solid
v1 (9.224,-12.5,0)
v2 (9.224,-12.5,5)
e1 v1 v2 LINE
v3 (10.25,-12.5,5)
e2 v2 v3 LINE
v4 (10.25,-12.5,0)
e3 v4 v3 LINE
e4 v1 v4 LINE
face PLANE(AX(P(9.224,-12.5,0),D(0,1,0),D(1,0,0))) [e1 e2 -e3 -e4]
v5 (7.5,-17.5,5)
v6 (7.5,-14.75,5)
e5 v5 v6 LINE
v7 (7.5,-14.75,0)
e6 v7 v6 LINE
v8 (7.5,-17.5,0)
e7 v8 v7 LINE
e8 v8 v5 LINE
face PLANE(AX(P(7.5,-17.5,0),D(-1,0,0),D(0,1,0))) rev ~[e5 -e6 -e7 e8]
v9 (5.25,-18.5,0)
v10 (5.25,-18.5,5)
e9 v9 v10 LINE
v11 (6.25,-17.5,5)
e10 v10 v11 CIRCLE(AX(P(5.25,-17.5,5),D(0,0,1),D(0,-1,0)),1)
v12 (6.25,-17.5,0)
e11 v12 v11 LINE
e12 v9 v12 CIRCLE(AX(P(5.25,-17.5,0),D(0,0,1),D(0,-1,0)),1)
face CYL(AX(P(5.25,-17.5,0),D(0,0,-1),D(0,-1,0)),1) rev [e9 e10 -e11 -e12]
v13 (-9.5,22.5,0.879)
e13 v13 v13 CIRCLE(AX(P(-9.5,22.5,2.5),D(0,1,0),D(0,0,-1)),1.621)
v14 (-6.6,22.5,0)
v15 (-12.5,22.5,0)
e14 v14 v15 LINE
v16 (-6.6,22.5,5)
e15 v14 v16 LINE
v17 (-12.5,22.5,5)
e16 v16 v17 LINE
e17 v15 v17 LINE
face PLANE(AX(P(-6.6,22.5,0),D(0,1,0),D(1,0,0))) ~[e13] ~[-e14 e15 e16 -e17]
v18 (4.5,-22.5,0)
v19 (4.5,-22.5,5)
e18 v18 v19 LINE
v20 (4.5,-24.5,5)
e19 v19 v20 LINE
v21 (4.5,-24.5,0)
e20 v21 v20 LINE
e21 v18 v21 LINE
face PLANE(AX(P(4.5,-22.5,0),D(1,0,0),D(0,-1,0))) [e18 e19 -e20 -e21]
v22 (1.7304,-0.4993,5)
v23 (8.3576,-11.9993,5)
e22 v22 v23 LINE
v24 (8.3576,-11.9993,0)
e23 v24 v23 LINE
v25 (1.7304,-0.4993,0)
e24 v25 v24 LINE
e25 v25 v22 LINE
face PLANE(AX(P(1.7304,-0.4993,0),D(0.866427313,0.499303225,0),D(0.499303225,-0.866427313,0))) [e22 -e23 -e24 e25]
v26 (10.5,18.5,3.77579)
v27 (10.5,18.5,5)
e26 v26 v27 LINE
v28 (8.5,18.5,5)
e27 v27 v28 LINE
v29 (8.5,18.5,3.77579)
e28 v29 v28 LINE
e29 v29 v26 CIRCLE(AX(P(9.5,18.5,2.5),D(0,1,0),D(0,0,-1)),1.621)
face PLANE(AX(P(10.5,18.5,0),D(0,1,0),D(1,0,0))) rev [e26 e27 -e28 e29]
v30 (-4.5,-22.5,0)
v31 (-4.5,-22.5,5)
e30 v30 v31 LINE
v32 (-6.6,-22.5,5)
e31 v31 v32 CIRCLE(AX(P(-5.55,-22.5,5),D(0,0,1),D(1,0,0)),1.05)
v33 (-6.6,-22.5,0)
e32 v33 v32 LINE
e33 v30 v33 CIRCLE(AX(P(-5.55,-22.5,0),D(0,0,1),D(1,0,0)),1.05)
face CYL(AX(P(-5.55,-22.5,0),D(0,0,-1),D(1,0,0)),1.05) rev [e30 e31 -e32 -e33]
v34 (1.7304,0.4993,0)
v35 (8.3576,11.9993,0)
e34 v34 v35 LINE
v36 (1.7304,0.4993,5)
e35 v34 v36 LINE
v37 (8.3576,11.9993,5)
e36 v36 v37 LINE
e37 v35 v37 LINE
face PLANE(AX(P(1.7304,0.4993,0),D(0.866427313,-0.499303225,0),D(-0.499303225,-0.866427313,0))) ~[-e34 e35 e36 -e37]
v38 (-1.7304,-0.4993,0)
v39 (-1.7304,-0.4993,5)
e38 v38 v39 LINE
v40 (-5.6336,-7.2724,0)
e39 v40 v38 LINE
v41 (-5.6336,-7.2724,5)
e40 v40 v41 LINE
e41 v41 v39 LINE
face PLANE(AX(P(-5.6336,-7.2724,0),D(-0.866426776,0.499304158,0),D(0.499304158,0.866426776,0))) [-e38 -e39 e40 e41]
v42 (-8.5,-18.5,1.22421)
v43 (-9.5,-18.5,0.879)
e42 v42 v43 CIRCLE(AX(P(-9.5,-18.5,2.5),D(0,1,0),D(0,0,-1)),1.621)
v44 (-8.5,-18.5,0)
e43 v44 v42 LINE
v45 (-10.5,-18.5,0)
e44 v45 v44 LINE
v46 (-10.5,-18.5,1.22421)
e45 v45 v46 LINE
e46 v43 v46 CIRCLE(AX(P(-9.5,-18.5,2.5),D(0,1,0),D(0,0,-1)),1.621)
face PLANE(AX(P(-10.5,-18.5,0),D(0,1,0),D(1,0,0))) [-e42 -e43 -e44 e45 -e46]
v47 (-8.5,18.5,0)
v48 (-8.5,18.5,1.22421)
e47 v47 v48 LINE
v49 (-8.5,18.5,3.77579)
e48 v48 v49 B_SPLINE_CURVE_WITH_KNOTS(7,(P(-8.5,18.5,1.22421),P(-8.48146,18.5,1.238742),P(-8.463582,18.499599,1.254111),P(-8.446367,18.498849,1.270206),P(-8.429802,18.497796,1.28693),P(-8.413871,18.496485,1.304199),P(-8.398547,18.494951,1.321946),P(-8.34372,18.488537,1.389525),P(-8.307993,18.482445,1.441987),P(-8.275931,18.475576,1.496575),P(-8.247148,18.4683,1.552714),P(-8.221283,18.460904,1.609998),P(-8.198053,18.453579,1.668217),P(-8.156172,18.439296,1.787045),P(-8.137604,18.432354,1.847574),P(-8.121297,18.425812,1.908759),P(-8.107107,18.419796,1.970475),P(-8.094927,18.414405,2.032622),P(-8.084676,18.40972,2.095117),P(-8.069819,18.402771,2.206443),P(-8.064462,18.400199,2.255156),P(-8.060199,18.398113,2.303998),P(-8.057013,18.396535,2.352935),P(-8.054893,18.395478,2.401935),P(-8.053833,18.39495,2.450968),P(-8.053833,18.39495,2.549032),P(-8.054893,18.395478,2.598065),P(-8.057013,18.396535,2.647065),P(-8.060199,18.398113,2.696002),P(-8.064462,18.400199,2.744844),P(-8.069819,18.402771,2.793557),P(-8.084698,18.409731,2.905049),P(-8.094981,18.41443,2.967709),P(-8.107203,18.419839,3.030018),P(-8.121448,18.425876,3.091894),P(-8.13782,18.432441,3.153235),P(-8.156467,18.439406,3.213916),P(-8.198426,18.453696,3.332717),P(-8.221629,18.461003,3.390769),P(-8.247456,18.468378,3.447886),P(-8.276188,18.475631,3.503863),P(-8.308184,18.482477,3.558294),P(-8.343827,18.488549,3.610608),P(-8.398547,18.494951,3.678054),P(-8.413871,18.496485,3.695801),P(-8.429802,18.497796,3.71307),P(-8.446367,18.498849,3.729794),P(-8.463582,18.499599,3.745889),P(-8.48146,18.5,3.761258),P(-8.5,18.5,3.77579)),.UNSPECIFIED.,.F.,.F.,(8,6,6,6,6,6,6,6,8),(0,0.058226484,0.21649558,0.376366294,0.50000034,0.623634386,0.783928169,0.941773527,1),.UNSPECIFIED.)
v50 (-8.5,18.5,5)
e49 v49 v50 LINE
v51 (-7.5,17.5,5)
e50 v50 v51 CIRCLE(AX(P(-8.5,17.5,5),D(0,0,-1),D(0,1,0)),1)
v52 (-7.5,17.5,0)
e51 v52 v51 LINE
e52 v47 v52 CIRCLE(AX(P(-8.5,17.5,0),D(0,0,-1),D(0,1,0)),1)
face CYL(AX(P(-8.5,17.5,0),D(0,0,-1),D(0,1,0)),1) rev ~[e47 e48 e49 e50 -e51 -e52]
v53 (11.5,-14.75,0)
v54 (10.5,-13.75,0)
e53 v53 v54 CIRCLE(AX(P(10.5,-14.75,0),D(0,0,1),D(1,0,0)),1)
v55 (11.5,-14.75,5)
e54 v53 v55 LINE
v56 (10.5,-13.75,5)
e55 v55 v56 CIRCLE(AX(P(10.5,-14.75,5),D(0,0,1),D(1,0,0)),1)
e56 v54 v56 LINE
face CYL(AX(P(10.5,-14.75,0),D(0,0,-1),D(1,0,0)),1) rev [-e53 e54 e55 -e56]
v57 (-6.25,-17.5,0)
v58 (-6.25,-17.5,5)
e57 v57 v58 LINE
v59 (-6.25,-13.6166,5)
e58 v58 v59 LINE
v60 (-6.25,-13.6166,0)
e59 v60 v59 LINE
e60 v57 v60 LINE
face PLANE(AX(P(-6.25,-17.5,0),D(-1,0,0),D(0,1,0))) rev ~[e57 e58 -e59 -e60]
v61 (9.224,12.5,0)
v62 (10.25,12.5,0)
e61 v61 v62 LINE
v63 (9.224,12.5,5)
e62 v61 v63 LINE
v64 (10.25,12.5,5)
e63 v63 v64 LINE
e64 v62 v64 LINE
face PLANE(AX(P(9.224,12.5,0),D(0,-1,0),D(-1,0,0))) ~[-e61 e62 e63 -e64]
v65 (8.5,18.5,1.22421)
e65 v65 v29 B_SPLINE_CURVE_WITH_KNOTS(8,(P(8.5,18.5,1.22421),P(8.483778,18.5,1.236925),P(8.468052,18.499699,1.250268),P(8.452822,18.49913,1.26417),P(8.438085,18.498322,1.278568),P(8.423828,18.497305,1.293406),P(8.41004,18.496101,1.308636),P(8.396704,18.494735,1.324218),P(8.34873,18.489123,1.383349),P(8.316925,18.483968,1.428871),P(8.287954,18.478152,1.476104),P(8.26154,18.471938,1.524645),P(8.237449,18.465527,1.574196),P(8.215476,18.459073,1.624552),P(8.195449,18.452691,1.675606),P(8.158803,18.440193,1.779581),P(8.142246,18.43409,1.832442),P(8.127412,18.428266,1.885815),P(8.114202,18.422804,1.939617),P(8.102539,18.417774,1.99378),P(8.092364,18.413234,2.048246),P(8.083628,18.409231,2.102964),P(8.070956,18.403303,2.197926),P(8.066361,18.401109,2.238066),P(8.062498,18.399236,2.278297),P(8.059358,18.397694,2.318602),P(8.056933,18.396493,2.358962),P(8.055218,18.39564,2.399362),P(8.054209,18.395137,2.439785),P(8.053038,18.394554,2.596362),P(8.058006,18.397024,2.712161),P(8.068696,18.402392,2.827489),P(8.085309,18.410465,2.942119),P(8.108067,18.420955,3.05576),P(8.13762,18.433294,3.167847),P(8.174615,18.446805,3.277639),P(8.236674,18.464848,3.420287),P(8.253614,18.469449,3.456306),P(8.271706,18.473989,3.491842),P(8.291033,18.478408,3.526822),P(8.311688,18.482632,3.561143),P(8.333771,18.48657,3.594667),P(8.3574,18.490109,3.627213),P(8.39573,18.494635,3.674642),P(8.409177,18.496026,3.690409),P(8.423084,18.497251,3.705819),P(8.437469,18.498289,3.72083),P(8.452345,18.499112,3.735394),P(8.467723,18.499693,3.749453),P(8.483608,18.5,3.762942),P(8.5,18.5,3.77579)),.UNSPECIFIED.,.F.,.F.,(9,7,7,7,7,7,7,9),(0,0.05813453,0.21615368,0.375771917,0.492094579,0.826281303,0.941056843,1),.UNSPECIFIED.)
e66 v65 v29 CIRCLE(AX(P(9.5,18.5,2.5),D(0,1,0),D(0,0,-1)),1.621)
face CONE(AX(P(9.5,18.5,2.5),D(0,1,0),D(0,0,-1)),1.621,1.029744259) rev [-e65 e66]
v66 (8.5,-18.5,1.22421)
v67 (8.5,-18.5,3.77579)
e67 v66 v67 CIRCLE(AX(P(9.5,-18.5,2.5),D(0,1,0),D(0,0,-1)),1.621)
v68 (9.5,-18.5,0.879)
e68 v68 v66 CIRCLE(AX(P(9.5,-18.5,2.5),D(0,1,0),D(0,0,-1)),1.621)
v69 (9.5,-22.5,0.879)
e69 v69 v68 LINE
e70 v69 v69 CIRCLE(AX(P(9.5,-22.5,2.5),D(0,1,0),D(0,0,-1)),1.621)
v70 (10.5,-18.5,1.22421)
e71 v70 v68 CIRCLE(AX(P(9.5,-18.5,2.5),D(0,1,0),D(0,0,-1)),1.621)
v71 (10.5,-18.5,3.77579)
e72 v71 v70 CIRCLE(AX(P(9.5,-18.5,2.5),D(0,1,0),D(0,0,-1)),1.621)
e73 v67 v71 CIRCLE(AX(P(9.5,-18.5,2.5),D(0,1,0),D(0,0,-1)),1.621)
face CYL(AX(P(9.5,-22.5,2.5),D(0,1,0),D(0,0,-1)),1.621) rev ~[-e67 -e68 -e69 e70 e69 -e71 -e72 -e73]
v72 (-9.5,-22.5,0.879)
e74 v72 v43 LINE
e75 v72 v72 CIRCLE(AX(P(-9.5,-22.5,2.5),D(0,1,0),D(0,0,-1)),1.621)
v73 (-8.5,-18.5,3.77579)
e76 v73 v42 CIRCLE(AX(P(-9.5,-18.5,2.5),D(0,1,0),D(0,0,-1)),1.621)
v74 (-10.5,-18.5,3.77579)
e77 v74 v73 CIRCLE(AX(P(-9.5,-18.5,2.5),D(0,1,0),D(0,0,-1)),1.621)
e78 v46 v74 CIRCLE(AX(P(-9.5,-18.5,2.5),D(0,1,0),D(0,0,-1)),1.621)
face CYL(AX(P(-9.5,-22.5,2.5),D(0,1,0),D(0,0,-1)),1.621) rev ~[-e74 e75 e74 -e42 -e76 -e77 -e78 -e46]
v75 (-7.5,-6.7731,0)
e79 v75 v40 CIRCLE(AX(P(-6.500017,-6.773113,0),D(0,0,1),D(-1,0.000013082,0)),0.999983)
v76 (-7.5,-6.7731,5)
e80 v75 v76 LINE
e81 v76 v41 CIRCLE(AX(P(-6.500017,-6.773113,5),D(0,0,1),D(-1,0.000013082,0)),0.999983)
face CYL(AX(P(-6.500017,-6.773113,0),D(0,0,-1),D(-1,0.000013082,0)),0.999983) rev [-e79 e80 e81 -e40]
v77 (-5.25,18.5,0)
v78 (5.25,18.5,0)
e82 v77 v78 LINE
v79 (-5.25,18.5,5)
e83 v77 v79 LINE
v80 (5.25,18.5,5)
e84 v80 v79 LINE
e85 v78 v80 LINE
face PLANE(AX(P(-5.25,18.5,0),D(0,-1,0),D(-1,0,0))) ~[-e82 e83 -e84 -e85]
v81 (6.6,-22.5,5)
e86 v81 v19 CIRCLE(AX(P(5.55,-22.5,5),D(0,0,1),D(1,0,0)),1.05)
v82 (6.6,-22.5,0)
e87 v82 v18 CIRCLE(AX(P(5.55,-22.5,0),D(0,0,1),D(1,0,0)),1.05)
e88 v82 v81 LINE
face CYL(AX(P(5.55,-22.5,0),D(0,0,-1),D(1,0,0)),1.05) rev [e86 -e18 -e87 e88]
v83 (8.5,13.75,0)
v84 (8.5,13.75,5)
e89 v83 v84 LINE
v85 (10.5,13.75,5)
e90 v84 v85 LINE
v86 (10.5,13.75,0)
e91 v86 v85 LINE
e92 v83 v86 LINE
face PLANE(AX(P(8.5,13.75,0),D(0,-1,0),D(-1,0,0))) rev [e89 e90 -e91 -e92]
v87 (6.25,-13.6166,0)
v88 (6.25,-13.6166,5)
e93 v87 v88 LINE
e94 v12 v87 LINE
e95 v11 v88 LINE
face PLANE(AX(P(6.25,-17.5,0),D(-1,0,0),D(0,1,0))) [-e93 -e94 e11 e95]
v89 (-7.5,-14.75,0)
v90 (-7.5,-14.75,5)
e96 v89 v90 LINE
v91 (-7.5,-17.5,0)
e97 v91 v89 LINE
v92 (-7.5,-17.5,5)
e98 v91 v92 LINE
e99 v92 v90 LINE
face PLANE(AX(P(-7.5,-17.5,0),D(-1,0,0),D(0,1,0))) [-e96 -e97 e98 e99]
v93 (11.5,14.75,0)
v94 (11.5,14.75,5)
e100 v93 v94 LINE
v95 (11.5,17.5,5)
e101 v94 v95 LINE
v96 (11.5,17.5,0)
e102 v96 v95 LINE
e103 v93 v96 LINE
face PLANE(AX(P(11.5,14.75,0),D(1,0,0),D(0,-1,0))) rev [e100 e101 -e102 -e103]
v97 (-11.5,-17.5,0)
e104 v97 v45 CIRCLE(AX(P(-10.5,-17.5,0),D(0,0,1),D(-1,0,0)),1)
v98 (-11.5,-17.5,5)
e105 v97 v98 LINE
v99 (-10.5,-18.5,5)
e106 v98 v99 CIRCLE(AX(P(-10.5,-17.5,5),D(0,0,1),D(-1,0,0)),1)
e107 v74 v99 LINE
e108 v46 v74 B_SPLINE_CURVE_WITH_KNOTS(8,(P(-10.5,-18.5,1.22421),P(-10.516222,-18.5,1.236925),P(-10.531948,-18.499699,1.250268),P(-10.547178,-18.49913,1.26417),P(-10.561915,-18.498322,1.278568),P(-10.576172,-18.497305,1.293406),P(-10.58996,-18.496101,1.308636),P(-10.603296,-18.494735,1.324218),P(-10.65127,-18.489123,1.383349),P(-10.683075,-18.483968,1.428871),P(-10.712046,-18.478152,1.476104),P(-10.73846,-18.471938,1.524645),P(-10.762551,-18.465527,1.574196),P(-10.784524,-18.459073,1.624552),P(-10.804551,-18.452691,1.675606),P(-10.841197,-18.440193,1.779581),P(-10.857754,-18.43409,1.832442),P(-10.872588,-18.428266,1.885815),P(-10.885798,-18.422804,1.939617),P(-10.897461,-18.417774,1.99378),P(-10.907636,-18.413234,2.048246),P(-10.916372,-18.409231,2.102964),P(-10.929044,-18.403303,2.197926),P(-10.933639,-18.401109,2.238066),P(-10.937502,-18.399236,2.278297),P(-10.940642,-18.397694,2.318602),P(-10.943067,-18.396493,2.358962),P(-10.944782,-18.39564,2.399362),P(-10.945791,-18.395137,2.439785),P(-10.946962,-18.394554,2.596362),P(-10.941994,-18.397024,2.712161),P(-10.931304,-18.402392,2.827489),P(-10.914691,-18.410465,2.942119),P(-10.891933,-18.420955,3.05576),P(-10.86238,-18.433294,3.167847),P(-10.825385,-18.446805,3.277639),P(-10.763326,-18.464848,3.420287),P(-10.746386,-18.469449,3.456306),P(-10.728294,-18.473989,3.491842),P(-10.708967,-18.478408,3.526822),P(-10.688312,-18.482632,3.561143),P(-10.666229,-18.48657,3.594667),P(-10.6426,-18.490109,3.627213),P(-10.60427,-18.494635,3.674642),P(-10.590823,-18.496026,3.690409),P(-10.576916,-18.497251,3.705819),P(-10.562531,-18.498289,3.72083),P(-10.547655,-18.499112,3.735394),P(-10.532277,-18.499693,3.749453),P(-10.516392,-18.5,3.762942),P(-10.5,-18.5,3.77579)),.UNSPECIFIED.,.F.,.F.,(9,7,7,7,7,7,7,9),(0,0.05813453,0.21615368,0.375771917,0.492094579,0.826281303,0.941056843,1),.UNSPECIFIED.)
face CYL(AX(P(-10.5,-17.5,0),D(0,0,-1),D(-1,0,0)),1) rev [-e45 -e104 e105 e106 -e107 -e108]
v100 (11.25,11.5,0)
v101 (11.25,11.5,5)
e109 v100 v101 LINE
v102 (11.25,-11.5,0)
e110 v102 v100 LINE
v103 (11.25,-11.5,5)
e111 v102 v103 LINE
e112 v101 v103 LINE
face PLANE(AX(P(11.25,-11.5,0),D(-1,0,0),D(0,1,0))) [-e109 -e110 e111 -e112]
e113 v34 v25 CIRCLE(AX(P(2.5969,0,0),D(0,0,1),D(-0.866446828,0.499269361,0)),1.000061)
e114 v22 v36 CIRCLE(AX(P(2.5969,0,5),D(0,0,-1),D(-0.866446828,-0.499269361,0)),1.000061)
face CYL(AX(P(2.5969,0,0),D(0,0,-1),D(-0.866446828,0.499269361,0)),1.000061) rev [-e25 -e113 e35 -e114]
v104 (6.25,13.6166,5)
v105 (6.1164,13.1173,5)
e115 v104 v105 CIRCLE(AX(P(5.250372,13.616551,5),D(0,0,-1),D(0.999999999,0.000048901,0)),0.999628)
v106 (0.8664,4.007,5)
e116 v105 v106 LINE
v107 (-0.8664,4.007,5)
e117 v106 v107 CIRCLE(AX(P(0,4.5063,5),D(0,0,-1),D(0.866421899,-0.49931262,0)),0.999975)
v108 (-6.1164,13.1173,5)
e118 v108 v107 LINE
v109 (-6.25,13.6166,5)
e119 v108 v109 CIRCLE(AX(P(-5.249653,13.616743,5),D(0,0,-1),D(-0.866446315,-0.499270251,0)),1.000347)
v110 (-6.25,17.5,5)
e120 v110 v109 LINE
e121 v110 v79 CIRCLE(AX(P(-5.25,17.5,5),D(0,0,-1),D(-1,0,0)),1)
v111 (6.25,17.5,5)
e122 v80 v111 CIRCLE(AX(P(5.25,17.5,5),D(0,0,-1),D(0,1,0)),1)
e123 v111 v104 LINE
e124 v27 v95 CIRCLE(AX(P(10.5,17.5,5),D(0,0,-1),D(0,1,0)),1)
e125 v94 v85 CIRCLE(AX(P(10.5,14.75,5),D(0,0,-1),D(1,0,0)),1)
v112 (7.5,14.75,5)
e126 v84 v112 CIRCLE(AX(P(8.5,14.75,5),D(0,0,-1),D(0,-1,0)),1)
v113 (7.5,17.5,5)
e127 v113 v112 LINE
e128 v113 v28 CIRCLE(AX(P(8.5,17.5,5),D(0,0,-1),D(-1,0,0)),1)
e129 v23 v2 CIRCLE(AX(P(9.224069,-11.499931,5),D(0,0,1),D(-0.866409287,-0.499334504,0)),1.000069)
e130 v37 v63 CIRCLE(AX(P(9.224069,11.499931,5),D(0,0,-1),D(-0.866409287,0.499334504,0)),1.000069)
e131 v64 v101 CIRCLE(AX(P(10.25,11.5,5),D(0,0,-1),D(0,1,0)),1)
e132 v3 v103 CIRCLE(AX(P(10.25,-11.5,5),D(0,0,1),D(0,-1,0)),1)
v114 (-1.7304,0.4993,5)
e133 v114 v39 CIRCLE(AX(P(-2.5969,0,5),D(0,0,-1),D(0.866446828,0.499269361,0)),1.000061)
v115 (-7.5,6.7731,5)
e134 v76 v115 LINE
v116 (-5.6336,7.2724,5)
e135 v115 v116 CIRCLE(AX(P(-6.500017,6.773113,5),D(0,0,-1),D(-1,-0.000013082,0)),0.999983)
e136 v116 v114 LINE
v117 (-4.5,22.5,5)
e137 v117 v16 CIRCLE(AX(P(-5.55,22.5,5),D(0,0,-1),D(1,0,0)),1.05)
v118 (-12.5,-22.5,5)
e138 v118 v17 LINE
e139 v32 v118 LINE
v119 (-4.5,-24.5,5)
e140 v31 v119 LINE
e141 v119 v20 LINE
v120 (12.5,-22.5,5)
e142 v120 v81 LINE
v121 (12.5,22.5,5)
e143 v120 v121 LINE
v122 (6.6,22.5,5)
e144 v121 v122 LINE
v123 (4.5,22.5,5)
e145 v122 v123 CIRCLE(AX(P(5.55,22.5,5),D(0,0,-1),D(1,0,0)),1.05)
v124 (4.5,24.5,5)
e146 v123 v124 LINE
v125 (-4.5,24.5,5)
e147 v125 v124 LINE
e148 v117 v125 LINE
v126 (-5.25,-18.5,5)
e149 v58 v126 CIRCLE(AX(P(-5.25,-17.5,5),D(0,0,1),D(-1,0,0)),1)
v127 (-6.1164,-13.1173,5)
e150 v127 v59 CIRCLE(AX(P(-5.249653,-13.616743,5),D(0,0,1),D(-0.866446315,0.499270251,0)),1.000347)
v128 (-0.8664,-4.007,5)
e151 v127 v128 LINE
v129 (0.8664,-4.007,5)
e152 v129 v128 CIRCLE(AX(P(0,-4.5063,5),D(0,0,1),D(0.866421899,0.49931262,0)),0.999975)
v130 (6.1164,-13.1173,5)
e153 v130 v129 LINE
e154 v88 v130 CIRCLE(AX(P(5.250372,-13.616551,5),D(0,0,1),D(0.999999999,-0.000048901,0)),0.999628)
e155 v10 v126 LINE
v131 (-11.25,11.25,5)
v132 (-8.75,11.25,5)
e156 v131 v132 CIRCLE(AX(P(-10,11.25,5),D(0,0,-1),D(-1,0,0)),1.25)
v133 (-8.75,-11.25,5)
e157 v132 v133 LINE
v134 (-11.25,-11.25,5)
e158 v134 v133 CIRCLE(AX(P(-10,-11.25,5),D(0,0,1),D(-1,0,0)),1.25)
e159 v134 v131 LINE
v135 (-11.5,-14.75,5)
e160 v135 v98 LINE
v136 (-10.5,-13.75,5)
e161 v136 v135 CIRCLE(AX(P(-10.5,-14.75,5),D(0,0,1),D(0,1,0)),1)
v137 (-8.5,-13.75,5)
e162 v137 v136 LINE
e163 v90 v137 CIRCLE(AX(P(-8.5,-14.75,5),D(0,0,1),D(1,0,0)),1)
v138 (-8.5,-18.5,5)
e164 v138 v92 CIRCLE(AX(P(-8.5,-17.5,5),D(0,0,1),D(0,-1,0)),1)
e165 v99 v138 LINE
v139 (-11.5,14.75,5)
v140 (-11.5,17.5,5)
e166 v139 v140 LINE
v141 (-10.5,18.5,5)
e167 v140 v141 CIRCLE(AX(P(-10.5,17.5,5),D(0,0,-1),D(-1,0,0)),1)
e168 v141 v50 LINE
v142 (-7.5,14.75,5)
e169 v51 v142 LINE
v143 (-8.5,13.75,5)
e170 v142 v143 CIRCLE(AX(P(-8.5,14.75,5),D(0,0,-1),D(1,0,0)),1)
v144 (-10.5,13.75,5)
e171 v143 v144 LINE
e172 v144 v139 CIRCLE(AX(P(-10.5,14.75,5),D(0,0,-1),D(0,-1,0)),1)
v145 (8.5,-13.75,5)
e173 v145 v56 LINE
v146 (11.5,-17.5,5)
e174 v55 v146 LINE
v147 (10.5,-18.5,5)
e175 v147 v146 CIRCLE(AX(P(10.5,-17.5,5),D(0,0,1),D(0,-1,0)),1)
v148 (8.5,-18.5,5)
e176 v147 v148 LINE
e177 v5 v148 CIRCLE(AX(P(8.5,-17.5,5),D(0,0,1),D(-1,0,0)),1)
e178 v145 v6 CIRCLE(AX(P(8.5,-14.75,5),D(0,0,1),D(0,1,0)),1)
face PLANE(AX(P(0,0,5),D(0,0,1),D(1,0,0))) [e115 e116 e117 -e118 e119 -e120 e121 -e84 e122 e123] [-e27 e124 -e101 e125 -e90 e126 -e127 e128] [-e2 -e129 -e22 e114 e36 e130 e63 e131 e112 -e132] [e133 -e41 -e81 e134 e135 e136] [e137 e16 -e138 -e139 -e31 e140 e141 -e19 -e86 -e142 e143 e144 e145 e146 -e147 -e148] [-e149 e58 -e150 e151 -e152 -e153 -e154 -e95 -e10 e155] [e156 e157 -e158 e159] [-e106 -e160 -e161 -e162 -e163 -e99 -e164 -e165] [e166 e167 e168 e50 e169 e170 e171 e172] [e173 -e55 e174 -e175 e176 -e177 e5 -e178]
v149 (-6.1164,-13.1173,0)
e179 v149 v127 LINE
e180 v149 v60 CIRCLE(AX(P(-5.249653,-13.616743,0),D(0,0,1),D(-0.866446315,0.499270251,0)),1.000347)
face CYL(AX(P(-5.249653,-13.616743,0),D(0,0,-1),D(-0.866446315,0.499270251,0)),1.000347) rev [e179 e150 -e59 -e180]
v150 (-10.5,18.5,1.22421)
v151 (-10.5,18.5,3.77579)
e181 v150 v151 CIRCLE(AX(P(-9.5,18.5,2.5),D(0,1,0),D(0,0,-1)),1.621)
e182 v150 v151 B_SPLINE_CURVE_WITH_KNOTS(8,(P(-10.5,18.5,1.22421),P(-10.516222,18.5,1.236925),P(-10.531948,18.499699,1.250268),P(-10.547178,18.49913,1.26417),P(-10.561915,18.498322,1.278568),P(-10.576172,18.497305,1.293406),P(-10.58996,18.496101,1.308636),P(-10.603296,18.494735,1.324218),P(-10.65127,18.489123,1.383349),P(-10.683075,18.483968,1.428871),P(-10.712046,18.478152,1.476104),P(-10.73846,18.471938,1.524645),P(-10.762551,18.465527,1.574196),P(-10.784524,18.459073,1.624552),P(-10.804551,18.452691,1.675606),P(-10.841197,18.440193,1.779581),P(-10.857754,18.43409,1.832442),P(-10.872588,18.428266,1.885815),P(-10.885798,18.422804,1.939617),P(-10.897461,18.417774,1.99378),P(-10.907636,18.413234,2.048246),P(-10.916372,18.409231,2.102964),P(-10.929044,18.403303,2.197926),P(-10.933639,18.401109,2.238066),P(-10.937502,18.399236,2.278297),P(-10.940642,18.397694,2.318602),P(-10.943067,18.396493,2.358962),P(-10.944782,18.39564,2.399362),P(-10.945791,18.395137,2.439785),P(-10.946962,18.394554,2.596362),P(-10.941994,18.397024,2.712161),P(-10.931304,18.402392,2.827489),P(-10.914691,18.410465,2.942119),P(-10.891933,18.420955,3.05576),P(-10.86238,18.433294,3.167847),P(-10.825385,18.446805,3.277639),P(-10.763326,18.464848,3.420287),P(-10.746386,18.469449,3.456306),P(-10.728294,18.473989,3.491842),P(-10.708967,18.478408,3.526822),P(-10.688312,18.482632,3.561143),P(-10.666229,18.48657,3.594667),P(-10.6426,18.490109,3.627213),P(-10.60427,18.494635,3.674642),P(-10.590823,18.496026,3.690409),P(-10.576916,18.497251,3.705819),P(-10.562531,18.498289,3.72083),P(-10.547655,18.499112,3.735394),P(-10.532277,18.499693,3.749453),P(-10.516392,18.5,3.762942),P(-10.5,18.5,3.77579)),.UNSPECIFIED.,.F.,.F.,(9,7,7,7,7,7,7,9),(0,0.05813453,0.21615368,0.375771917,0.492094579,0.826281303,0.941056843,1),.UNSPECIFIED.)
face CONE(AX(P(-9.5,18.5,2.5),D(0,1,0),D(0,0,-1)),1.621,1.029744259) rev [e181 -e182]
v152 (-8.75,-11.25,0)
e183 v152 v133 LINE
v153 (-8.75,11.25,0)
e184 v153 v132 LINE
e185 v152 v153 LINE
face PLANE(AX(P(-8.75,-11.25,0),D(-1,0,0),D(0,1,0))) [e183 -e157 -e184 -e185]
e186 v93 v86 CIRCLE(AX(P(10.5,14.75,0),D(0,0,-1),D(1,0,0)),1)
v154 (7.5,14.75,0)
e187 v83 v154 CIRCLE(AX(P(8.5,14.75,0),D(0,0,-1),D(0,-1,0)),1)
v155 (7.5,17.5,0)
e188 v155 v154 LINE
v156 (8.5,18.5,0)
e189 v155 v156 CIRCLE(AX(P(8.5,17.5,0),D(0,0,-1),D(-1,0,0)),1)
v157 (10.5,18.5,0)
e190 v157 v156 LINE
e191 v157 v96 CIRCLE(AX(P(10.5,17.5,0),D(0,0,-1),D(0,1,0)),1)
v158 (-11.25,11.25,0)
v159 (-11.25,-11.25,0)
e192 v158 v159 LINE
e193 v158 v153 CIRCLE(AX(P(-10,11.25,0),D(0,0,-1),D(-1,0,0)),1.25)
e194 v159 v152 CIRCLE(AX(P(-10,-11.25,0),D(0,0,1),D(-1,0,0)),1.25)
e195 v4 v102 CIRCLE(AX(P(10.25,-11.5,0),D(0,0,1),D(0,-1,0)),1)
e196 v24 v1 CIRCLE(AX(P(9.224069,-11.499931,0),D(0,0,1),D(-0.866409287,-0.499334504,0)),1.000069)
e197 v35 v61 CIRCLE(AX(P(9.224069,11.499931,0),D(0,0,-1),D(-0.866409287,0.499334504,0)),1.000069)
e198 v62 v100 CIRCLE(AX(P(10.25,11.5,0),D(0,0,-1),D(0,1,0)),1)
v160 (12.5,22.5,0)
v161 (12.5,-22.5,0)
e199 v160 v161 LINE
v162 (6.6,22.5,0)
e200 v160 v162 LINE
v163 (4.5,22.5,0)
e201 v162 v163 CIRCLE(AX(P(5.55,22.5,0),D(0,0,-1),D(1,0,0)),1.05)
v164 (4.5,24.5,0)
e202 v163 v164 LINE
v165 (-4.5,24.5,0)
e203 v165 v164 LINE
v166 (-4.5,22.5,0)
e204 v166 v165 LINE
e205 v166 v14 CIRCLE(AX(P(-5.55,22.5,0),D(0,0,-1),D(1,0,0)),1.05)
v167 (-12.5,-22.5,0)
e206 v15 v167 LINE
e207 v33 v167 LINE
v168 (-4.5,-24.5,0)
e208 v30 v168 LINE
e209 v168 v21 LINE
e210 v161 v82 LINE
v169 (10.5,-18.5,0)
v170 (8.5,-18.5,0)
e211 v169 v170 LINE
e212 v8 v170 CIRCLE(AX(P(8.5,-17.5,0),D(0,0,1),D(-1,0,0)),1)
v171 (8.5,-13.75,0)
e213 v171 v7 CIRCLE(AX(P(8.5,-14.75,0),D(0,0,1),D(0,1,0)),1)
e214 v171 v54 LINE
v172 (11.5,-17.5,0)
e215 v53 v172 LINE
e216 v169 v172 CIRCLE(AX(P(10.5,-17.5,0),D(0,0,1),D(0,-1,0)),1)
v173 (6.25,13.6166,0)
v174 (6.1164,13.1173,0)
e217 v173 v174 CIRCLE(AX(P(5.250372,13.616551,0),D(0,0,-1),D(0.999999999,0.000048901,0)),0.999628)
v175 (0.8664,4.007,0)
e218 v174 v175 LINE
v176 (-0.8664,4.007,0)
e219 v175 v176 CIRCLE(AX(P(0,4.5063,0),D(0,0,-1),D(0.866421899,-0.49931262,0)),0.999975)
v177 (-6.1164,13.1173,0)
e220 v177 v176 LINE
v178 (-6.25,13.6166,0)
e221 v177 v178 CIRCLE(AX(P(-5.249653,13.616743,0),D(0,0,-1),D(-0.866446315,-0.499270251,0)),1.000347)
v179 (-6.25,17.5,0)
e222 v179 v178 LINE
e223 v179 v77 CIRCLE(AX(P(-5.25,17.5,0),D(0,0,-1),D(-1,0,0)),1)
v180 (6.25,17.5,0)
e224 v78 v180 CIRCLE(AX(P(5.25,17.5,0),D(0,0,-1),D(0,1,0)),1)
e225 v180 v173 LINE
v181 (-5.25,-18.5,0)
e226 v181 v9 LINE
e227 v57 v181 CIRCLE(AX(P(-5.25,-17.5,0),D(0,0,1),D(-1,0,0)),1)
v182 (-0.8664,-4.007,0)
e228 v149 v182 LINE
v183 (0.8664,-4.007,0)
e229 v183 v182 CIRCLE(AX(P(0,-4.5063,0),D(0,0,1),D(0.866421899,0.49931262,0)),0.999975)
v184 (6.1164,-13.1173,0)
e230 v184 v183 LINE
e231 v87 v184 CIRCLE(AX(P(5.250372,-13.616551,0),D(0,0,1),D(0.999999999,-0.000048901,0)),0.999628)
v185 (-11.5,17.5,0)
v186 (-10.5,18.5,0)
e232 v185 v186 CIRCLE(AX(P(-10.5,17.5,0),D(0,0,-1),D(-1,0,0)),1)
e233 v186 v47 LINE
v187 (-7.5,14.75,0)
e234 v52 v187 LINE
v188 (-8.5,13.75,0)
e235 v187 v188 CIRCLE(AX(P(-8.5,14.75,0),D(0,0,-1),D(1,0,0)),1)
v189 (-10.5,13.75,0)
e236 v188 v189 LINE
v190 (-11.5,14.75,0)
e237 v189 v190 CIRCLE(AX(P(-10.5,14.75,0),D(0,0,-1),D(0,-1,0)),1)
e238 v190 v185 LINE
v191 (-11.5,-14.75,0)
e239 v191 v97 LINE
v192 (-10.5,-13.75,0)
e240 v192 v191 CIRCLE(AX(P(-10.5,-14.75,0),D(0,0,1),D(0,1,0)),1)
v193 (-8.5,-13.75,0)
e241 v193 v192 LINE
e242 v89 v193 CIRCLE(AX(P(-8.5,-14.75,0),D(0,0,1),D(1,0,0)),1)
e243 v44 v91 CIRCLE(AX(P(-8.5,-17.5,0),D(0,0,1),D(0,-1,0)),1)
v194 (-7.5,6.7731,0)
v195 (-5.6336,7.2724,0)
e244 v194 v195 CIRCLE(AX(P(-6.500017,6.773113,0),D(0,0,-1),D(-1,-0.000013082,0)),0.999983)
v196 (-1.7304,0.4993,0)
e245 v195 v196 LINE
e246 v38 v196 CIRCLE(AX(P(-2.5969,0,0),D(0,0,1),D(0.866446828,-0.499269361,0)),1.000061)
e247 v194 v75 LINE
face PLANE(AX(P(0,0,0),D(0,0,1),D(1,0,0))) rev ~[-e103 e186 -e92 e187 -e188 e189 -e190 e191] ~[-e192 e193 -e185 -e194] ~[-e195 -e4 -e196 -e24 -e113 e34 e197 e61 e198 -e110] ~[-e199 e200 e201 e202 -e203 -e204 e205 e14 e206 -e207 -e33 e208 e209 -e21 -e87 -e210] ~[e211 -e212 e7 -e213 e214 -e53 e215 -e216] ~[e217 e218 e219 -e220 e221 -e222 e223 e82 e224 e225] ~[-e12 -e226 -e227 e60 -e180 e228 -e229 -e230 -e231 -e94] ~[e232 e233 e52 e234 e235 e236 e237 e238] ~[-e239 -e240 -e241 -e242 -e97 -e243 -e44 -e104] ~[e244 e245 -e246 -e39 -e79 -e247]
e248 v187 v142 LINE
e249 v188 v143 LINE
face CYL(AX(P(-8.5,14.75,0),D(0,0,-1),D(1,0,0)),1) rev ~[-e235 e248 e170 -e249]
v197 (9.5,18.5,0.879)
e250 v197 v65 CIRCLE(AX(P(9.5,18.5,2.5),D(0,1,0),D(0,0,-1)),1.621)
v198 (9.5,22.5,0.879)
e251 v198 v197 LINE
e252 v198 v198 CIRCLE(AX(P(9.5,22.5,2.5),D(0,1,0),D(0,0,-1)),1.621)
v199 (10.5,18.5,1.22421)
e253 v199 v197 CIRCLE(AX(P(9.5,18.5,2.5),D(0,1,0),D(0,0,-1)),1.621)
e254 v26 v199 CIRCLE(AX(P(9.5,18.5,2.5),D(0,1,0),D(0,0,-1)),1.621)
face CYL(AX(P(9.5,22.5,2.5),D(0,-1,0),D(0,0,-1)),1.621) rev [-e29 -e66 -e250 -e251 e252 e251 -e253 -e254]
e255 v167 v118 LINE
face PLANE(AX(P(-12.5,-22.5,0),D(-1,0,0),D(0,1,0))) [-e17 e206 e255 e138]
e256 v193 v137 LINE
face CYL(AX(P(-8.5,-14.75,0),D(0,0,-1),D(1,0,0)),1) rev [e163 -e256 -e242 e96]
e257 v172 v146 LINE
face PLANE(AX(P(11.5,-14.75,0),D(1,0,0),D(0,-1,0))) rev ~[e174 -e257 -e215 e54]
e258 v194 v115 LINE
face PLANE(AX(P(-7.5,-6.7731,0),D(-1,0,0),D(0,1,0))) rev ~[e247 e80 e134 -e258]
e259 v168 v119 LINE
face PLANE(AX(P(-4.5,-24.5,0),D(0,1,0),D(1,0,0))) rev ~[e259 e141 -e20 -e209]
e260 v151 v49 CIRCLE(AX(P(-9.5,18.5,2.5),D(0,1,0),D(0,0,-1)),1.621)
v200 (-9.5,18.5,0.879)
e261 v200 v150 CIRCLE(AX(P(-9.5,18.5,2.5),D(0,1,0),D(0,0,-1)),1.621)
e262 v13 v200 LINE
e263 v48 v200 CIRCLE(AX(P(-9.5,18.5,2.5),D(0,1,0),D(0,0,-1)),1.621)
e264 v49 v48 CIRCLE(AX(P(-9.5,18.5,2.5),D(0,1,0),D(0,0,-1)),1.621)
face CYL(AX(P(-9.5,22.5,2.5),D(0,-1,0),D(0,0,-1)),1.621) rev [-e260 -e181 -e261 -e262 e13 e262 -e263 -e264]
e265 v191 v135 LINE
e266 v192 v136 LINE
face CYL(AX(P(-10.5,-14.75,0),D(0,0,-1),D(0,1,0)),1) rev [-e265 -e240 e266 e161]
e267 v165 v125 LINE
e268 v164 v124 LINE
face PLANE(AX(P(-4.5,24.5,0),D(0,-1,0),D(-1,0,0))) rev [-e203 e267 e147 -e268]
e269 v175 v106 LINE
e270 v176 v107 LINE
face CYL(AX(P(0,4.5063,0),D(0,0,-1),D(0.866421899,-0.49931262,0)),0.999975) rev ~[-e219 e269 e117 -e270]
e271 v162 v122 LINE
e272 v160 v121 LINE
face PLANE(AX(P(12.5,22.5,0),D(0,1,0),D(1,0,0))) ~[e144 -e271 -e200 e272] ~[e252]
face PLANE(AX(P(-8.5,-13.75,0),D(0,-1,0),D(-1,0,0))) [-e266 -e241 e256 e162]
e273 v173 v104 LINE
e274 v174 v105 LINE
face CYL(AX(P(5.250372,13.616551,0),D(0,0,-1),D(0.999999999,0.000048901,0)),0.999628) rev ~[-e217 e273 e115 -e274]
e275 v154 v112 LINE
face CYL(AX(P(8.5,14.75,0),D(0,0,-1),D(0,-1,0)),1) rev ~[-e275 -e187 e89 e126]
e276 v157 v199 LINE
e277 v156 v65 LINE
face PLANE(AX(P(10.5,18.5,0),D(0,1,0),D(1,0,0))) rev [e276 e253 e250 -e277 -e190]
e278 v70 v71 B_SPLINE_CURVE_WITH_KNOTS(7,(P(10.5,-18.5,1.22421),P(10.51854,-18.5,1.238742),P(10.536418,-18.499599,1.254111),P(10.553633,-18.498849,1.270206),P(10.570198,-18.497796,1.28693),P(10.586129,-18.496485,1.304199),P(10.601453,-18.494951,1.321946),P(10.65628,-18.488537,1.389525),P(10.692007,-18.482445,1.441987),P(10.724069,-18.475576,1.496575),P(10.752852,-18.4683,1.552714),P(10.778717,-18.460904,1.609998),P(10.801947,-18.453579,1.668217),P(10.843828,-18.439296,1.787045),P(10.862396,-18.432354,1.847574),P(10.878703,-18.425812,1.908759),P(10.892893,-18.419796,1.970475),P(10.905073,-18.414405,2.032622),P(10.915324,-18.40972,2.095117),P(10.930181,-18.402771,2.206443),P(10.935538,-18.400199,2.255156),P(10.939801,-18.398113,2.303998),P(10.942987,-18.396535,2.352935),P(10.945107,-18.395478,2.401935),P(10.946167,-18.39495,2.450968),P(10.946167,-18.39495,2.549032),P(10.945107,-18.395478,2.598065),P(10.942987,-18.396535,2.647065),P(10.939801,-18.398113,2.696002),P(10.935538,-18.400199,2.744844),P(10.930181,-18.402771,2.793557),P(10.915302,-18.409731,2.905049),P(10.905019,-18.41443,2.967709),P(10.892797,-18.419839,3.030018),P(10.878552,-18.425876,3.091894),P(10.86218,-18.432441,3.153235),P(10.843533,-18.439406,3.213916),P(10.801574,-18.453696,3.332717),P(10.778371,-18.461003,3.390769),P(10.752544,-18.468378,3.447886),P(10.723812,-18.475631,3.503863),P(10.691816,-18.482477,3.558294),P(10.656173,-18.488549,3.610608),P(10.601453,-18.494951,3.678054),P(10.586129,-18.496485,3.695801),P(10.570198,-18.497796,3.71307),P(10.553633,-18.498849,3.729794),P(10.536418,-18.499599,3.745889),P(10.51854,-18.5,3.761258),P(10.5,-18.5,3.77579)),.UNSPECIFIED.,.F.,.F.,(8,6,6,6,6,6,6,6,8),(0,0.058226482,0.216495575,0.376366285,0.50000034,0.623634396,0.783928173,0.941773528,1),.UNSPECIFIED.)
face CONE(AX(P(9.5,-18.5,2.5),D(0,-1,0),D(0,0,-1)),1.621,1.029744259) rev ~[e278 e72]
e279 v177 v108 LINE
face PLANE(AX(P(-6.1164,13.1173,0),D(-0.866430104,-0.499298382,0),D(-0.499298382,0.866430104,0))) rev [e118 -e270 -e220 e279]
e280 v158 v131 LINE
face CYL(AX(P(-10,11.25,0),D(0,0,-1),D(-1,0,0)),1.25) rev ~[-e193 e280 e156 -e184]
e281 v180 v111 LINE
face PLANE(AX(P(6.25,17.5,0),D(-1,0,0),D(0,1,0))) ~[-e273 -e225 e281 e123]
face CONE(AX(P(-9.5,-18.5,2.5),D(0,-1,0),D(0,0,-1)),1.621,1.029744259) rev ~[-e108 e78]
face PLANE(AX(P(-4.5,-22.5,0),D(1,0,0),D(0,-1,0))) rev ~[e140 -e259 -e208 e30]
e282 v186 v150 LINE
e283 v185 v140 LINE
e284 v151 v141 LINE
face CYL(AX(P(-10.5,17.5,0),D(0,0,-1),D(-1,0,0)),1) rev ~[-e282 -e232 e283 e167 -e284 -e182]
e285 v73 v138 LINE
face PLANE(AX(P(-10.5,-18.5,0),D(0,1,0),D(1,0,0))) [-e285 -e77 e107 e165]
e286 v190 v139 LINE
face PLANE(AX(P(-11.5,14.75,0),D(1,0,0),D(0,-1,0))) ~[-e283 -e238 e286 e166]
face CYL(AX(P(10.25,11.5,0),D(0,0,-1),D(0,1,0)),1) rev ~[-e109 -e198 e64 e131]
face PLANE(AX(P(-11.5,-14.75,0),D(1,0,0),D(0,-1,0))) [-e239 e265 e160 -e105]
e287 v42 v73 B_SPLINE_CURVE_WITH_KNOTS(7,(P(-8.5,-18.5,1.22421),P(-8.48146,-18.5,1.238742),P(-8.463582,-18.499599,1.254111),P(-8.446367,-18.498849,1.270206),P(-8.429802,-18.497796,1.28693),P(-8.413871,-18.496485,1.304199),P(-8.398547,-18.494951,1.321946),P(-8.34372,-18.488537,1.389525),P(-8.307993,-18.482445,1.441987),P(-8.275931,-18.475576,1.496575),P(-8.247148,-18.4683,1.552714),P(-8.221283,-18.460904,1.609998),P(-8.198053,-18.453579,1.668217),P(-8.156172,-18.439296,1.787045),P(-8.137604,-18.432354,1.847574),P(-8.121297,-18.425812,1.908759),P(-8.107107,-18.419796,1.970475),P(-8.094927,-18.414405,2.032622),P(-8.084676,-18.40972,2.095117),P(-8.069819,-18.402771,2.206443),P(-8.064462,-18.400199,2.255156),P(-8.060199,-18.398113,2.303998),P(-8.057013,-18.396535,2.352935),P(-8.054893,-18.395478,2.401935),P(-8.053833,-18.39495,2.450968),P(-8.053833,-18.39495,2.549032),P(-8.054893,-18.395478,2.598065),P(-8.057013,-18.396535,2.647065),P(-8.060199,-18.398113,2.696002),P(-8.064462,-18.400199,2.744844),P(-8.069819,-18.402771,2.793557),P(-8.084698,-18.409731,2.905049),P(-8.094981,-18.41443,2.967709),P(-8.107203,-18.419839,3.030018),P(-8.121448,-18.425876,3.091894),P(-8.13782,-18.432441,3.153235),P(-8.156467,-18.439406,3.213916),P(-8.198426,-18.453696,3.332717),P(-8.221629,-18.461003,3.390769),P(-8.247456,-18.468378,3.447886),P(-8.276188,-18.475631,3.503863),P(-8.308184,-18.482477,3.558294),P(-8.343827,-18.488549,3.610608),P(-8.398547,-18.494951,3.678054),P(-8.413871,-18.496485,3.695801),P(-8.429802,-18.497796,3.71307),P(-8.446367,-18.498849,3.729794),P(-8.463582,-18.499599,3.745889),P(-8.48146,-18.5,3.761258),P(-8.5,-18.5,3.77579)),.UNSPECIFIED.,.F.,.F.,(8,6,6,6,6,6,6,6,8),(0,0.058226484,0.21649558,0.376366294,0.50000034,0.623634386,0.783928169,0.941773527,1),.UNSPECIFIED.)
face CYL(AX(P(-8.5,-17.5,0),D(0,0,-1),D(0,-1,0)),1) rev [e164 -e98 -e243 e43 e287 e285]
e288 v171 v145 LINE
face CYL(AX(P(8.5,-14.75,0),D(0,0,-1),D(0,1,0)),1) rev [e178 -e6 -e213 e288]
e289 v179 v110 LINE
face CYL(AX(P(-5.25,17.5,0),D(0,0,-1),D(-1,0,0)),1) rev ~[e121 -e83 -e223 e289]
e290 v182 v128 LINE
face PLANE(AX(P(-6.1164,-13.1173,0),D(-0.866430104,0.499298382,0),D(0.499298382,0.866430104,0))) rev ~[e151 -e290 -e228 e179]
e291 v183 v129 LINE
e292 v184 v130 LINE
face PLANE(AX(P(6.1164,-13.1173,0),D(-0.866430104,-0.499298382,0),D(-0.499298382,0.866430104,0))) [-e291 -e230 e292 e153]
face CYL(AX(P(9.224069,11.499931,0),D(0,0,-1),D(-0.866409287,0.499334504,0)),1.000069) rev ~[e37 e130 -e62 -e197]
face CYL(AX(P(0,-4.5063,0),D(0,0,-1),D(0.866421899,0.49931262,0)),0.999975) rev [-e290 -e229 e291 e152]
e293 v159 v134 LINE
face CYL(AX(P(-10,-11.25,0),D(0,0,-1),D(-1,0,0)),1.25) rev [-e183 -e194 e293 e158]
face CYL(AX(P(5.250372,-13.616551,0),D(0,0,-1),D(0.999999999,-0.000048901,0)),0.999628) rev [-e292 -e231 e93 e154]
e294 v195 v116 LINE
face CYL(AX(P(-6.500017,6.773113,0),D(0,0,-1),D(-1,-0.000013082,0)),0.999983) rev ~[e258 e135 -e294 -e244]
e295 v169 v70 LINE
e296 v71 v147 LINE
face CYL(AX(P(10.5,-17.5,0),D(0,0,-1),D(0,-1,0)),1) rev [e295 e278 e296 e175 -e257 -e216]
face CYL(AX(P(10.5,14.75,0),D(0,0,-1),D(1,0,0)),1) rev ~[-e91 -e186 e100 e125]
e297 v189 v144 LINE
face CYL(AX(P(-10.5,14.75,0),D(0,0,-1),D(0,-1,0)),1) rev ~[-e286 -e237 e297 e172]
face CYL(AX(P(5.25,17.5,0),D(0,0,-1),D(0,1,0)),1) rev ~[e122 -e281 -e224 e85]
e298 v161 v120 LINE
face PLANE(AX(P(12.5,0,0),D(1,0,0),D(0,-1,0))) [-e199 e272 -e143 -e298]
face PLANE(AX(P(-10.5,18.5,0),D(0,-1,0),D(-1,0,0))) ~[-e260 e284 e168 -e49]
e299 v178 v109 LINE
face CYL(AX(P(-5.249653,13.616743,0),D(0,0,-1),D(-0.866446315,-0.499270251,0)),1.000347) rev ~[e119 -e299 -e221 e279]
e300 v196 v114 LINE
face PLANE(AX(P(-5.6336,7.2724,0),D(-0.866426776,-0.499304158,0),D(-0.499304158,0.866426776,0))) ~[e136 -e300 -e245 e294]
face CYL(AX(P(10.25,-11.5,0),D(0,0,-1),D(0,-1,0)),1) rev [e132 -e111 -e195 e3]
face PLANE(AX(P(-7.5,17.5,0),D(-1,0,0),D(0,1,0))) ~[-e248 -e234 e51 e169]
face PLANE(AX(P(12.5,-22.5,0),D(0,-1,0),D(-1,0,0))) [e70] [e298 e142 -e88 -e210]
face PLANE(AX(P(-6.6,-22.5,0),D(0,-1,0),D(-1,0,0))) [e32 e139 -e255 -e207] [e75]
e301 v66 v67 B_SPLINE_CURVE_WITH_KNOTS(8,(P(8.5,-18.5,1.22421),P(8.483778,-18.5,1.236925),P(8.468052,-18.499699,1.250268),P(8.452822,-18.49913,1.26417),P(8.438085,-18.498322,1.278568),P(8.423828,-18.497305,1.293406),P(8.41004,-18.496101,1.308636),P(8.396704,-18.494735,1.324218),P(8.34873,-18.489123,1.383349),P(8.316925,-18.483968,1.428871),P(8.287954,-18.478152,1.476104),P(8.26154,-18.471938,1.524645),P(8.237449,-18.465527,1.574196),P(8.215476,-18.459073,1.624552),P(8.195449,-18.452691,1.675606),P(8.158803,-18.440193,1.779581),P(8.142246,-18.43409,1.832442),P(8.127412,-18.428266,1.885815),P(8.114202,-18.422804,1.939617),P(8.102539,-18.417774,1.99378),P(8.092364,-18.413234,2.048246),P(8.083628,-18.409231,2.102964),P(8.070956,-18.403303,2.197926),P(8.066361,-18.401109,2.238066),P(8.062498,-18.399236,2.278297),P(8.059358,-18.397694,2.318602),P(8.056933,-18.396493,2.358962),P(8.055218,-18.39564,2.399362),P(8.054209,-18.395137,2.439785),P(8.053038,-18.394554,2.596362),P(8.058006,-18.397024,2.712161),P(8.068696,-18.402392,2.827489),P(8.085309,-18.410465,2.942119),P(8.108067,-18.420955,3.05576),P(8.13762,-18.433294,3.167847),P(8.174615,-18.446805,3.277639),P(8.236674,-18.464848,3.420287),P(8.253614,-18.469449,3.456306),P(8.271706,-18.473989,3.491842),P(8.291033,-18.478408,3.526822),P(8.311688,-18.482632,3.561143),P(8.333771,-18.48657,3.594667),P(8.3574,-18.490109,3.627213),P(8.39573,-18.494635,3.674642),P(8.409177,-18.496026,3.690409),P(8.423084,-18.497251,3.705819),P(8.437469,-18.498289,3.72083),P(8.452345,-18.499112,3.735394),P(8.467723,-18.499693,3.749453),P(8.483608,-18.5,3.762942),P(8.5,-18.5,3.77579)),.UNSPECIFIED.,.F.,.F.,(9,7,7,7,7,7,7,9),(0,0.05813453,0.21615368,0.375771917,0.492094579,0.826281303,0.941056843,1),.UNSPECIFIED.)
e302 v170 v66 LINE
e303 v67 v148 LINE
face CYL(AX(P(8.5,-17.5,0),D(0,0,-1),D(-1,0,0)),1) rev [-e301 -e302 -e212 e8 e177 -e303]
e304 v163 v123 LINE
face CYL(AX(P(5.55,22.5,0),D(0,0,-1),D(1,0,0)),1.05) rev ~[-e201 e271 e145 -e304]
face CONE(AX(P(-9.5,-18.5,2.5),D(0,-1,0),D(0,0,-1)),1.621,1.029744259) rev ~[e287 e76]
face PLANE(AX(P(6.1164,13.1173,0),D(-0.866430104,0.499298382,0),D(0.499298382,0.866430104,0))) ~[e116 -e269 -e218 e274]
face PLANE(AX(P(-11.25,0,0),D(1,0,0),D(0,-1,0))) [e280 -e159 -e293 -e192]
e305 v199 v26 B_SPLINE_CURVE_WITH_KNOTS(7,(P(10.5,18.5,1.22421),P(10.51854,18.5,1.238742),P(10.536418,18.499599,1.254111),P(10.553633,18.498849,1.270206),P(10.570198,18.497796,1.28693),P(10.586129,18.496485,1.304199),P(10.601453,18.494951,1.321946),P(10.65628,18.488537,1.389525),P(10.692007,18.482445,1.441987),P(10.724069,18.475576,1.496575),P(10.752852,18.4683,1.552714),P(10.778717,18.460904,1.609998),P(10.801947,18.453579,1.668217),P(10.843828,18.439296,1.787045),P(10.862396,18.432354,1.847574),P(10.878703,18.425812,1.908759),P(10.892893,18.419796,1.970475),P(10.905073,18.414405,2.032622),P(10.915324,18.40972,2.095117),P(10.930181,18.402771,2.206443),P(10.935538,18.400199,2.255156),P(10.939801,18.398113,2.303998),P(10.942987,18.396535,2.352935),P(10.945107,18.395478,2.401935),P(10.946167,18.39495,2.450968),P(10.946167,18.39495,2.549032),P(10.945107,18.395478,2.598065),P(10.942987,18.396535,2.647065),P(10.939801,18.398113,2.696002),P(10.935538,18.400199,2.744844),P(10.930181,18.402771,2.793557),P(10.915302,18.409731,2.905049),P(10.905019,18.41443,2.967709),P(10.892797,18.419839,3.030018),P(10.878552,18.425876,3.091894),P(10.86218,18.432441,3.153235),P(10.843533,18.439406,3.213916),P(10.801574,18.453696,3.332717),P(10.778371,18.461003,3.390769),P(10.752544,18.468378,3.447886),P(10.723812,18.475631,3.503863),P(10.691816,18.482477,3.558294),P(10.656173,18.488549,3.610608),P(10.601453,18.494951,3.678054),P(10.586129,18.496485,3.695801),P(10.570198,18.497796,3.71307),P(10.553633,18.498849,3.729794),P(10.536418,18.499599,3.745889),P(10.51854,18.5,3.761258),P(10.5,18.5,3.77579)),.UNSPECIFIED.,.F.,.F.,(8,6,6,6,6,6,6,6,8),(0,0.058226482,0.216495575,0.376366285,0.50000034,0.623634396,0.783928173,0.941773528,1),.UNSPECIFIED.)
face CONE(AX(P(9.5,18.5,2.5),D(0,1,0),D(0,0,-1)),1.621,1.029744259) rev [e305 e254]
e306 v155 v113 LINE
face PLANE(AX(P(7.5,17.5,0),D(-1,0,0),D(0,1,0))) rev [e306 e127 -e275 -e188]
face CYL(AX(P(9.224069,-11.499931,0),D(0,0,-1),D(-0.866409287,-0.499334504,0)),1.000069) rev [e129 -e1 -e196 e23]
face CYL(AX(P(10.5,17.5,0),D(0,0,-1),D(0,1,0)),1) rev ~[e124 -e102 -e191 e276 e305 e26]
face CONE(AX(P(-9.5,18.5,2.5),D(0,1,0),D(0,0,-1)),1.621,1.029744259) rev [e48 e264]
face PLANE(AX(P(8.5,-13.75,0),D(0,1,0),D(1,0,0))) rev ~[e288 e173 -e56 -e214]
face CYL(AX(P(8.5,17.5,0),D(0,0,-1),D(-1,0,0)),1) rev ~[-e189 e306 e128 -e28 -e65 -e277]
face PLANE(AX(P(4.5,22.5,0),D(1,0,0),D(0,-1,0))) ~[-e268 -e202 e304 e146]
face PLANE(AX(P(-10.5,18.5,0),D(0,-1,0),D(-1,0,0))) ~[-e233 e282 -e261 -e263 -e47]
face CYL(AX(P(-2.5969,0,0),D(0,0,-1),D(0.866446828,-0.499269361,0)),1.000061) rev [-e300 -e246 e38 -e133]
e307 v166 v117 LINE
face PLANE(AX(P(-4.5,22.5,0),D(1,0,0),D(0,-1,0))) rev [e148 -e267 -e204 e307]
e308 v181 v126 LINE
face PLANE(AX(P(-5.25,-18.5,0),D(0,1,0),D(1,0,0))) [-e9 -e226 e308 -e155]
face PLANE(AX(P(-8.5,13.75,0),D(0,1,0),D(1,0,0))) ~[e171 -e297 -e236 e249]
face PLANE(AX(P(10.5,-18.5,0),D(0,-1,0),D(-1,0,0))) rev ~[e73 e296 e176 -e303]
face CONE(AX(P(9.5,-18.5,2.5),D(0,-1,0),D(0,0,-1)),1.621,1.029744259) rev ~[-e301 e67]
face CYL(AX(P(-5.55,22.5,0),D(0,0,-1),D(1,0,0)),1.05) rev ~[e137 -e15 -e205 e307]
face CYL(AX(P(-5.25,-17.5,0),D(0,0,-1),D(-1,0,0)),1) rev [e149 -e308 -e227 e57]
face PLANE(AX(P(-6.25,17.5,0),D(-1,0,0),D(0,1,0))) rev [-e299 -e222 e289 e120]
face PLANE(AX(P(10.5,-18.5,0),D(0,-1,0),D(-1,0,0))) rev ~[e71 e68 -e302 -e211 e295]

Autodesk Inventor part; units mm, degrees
ref_plane "YZ Plane" through (0, 0, 0) normal (1, 0, 0) x (0, 1, 0)
ref_plane "XZ Plane" through (0, 0, 0) normal (0, 1, 0) x (-1, 0, 0)
ref_plane "XY Plane" through (0, 0, 0) normal (0, 0, 1) x (1, 0, 0)
sketch "スケッチ1" plane through (0, 0, 0) normal (0, 0, 1) x (1, 0, 0)
  line L0 (-12.5, -22.5) -> (-12.5, 22.5)
  line L1 (-12.5, 22.5) -> (12.5, 22.5)
  line L2 (12.5, 22.5) -> (12.5, -22.5)
  line L3 (12.5, -22.5) -> (-12.5, -22.5)
  line L4 (-12.5, -22.5) -> (12.5, 22.5) construction
  line L5 (-12.5, 22.5) -> (12.5, -22.5) construction
  line L6 (0, -22.5) -> (0, 22.5) construction
  line L7 (-12.5, 0) -> (12.5, 0) construction
  line L8 (-4.5, -22.5) -> (-4.5, -24.5)
  line L9 (-4.5, -24.5) -> (4.5, -24.5)
  arc A0 (-4.5, -22.5) -> (-6.6, -22.5) centre (-5.55, -22.5) ccw
  line L10 (-9.5, -22.5) -> (-9.5, -18.5) construction
  line L11 (-11.5, -22.5) -> (-11.5, -18.5) construction
  line L12 (-11.5, -18.5) -> (-7.5, -18.5) construction
  line L13 (-7.5, -18.5) -> (-7.5, -22.5) construction
  line L14 (4.5, -22.5) -> (4.5, -24.5)
  arc A1 (6.6, -22.5) -> (4.5, -22.5) centre (5.55, -22.5) ccw
  line L15 (9.5, -22.5) -> (9.5, -18.5) construction
  line L16 (11.5, -22.5) -> (11.5, -18.5) construction
  line L17 (11.5, -18.5) -> (7.5, -18.5) construction
  line L18 (7.5, -18.5) -> (7.5, -22.5) construction
  line L19 (-11.25, -11.25) -> (-8.75, -11.25) construction
  line L20 (-8.75, -11.25) -> (-8.75, 11.25)
  line L21 (-8.75, 11.25) -> (-11.25, 11.25) construction
  line L22 (-11.25, 11.25) -> (-11.25, -11.25)
  line L23 (-11.25, -11.25) -> (-8.75, 11.25) construction
  line L24 (-8.75, -11.25) -> (-11.25, 11.25) construction
  arc A2 (-11.25, -11.25) -> (-8.75, -11.25) centre (-10, -11.25) ccw
  arc A3 (-8.75, 11.25) -> (-11.25, 11.25) centre (-10, 11.25) ccw
  line L25 (-10, -12.5) -> (-10, 12.5) construction
  line L26 (-8.5, -13.75) -> (-10.5, -13.75)
  line L27 (-11.5, -14.75) -> (-11.5, -17.5)
  line L28 (-10.5, -18.5) -> (-8.5, -18.5)
  line L29 (-7.5, -17.5) -> (-7.5, -14.75)
  line L30 (-7.5, -13.75) -> (-11.5, -18.5) construction
  line L31 (-11.5, -13.75) -> (-7.5, -18.5) construction
  arc A4 (-11.5, -17.5) -> (-10.5, -18.5) centre (-10.5, -17.5) ccw
  arc A5 (-8.5, -18.5) -> (-7.5, -17.5) centre (-8.5, -17.5) ccw
  arc A6 (-7.5, -14.75) -> (-8.5, -13.75) centre (-8.5, -14.75) ccw
  arc A7 (-10.5, -13.75) -> (-11.5, -14.75) centre (-10.5, -14.75) ccw
  line L32 (-6.25, -17.5) -> (-6.25, -13.6166)
  line L33 (-6.1164, -13.1173) -> (-0.8664, -4.007)
  line L34 (-5.25, -18.5) -> (0, -18.5)
  line L35 (-7.5, -6.7731) -> (-7.5, 0)
  line L36 (-5.6336, -7.2724) -> (-1.7304, -0.4993)
  arc A8 (-7.5, -6.7731) -> (-5.6336, -7.2724) centre (-6.5, -6.7731) ccw
  arc A9 (-6.1164, -13.1173) -> (-6.25, -13.6166) centre (-5.25, -13.6166) ccw
  arc A10 (-6.25, -17.5) -> (-5.25, -18.5) centre (-5.25, -17.5) ccw
  line L37 (-8.5, -14.75) -> (0, 0) construction
  line L38 (-7.5, 6.7731) -> (-7.5, 0)
  line L39 (-5.6336, 7.2724) -> (-1.7304, 0.4993)
  arc A11 (-5.6336, 7.2724) -> (-7.5, 6.7731) centre (-6.5, 6.7731) ccw
  arc A12 (-1.7304, -0.4993) -> (-1.7304, 0.4993) centre (-2.5969, 0) ccw
  line L40 (-12.5, 0) -> (12.5, 0)
  line L41 (6.25, -17.5) -> (6.25, -13.6166)
  line L42 (6.1164, -13.1173) -> (0.8664, -4.007)
  line L43 (5.25, -18.5) -> (0, -18.5)
  arc A13 (6.25, -13.6166) -> (6.1164, -13.1173) centre (5.25, -13.6166) ccw
  arc A14 (5.25, -18.5) -> (6.25, -17.5) centre (5.25, -17.5) ccw
  arc A15 (0.8664, -4.007) -> (-0.8664, -4.007) centre (0, -4.5063) ccw
  line L44 (8.5, -13.75) -> (10.5, -13.75)
  line L45 (11.5, -14.75) -> (11.5, -17.5)
  line L46 (10.5, -18.5) -> (8.5, -18.5)
  line L47 (7.5, -17.5) -> (7.5, -14.75)
  arc A16 (10.5, -18.5) -> (11.5, -17.5) centre (10.5, -17.5) ccw
  arc A17 (8.5, -13.75) -> (7.5, -14.75) centre (8.5, -14.75) ccw
  arc A18 (11.5, -14.75) -> (10.5, -13.75) centre (10.5, -14.75) ccw
  arc A19 (7.5, -17.5) -> (8.5, -18.5) centre (8.5, -17.5) ccw
  line L48 (1.7304, -0.4993) -> (8.3576, -11.9993)
  line L49 (9.224, -12.5) -> (10.25, -12.5)
  line L50 (11.25, -11.5) -> (11.25, 0)
  line L51 (1.7304, 0.4993) -> (8.3576, 11.9993)
  line L52 (9.224, 12.5) -> (10.25, 12.5)
  line L53 (11.25, 11.5) -> (11.25, 0)
  arc A20 (1.7304, 0.4993) -> (1.7304, -0.4993) centre (2.5969, 0) ccw
  arc A21 (8.3576, -11.9993) -> (9.224, -12.5) centre (9.224, -11.5) ccw
  arc A22 (10.25, -12.5) -> (11.25, -11.5) centre (10.25, -11.5) ccw
  arc A23 (11.25, 11.5) -> (10.25, 12.5) centre (10.25, 11.5) ccw
  arc A24 (9.224, 12.5) -> (8.3576, 11.9993) centre (9.224, 11.5) ccw
  point P0 (-10, 0)
  point P1 (4.5, -22.5)
  point P2 (6.6, -22.5)
  point P3 (4.5, -22.5)
  point P4 (-9.5, -16.125)
  point P5 (-9.5, -16.125)
  point P6 (0, -2.5035)
  point P7 (1.4427, 0)
  point P8 (8.6461, -12.5)
  point P9 (11.25, -12.5)
  point P10 (8.6461, 12.5)
  point P11 (11.25, 12.5)
  point P12 (-11.25, 0)
  point P13 (1.5969, 0)
  point P14 (-1.5969, 0)
  point P15 (-8.75, 0)
  dimension "d0" = 4
  dimension "d1" = 4
  dimension "d2" = 1.05
  dimension "d3" = 19
  dimension "d4" = 9
  dimension "d5" = 25
  dimension "d7" = 2
  dimension "d8" = 45
  dimension "d9" = 1.25
  dimension "d10" = 25
  dimension "d11" = 1.25
  dimension "d35" = 1
  dimension "d36" = 4
  dimension "d37" = 1.25
  dimension "d38" = 1.25
  dimension "d39" = 1.25
  dimension "d41" = 1
  dimension "d42" = 1
  dimension "d43" = 1
  dimension "d44" = 1
  dimension "d45" = 1.25
  dimension "d46" = 1.25
  dimension "d47" = 1.25
  dimension "d48" = 2.5
  dimension "d49" = 1.25
  dimension "d50" = 1
extrude "押し出し1" add sketch "スケッチ1" along normal blind 5 contours L0 L40 L22 A2 L20 L35 A8 L36 A12 A20 L48 A21 L49 A22 L50 L2 L3 A1 A0 | L3 L14 L9 L8
sketch "スケッチ2" plane through (-12.5, -22.5, 0) normal (0, -1, 0) x (1, 0, 0)
  line L0 (12.5, 5) -> (12.5, 0)
  line L1 (0, 0) -> (5.9, 0) projected
  line L2 (8, 5) -> (5.9, 5) projected
  point P0 (3, 2.5)
  point P1 (22, 2.5)
  point P2 (17, 5)
  dimension "d22" = 2.5
  dimension "d30" = 19
hole "穴1" at (-9.5, -22.5, 2.5) at (9.5, -22.5, 2.5) direction (0, 1, 0) diameter 3.242 depth 4 tip angle 118 thread size "M4x0.7" class "6H" standard "ISO Metric profile"
mirror "ミラー1" about plane through (-11.25, 0, 0) normal (0, 1, 0)
equation "\"d37\" = d11"
equation "\"d38\" = d11"
equation "\"d39\" = d11"
equation "\"d30\" = d3"
properties part number "Head_diagonal_" material "アセタール樹脂、黒"
